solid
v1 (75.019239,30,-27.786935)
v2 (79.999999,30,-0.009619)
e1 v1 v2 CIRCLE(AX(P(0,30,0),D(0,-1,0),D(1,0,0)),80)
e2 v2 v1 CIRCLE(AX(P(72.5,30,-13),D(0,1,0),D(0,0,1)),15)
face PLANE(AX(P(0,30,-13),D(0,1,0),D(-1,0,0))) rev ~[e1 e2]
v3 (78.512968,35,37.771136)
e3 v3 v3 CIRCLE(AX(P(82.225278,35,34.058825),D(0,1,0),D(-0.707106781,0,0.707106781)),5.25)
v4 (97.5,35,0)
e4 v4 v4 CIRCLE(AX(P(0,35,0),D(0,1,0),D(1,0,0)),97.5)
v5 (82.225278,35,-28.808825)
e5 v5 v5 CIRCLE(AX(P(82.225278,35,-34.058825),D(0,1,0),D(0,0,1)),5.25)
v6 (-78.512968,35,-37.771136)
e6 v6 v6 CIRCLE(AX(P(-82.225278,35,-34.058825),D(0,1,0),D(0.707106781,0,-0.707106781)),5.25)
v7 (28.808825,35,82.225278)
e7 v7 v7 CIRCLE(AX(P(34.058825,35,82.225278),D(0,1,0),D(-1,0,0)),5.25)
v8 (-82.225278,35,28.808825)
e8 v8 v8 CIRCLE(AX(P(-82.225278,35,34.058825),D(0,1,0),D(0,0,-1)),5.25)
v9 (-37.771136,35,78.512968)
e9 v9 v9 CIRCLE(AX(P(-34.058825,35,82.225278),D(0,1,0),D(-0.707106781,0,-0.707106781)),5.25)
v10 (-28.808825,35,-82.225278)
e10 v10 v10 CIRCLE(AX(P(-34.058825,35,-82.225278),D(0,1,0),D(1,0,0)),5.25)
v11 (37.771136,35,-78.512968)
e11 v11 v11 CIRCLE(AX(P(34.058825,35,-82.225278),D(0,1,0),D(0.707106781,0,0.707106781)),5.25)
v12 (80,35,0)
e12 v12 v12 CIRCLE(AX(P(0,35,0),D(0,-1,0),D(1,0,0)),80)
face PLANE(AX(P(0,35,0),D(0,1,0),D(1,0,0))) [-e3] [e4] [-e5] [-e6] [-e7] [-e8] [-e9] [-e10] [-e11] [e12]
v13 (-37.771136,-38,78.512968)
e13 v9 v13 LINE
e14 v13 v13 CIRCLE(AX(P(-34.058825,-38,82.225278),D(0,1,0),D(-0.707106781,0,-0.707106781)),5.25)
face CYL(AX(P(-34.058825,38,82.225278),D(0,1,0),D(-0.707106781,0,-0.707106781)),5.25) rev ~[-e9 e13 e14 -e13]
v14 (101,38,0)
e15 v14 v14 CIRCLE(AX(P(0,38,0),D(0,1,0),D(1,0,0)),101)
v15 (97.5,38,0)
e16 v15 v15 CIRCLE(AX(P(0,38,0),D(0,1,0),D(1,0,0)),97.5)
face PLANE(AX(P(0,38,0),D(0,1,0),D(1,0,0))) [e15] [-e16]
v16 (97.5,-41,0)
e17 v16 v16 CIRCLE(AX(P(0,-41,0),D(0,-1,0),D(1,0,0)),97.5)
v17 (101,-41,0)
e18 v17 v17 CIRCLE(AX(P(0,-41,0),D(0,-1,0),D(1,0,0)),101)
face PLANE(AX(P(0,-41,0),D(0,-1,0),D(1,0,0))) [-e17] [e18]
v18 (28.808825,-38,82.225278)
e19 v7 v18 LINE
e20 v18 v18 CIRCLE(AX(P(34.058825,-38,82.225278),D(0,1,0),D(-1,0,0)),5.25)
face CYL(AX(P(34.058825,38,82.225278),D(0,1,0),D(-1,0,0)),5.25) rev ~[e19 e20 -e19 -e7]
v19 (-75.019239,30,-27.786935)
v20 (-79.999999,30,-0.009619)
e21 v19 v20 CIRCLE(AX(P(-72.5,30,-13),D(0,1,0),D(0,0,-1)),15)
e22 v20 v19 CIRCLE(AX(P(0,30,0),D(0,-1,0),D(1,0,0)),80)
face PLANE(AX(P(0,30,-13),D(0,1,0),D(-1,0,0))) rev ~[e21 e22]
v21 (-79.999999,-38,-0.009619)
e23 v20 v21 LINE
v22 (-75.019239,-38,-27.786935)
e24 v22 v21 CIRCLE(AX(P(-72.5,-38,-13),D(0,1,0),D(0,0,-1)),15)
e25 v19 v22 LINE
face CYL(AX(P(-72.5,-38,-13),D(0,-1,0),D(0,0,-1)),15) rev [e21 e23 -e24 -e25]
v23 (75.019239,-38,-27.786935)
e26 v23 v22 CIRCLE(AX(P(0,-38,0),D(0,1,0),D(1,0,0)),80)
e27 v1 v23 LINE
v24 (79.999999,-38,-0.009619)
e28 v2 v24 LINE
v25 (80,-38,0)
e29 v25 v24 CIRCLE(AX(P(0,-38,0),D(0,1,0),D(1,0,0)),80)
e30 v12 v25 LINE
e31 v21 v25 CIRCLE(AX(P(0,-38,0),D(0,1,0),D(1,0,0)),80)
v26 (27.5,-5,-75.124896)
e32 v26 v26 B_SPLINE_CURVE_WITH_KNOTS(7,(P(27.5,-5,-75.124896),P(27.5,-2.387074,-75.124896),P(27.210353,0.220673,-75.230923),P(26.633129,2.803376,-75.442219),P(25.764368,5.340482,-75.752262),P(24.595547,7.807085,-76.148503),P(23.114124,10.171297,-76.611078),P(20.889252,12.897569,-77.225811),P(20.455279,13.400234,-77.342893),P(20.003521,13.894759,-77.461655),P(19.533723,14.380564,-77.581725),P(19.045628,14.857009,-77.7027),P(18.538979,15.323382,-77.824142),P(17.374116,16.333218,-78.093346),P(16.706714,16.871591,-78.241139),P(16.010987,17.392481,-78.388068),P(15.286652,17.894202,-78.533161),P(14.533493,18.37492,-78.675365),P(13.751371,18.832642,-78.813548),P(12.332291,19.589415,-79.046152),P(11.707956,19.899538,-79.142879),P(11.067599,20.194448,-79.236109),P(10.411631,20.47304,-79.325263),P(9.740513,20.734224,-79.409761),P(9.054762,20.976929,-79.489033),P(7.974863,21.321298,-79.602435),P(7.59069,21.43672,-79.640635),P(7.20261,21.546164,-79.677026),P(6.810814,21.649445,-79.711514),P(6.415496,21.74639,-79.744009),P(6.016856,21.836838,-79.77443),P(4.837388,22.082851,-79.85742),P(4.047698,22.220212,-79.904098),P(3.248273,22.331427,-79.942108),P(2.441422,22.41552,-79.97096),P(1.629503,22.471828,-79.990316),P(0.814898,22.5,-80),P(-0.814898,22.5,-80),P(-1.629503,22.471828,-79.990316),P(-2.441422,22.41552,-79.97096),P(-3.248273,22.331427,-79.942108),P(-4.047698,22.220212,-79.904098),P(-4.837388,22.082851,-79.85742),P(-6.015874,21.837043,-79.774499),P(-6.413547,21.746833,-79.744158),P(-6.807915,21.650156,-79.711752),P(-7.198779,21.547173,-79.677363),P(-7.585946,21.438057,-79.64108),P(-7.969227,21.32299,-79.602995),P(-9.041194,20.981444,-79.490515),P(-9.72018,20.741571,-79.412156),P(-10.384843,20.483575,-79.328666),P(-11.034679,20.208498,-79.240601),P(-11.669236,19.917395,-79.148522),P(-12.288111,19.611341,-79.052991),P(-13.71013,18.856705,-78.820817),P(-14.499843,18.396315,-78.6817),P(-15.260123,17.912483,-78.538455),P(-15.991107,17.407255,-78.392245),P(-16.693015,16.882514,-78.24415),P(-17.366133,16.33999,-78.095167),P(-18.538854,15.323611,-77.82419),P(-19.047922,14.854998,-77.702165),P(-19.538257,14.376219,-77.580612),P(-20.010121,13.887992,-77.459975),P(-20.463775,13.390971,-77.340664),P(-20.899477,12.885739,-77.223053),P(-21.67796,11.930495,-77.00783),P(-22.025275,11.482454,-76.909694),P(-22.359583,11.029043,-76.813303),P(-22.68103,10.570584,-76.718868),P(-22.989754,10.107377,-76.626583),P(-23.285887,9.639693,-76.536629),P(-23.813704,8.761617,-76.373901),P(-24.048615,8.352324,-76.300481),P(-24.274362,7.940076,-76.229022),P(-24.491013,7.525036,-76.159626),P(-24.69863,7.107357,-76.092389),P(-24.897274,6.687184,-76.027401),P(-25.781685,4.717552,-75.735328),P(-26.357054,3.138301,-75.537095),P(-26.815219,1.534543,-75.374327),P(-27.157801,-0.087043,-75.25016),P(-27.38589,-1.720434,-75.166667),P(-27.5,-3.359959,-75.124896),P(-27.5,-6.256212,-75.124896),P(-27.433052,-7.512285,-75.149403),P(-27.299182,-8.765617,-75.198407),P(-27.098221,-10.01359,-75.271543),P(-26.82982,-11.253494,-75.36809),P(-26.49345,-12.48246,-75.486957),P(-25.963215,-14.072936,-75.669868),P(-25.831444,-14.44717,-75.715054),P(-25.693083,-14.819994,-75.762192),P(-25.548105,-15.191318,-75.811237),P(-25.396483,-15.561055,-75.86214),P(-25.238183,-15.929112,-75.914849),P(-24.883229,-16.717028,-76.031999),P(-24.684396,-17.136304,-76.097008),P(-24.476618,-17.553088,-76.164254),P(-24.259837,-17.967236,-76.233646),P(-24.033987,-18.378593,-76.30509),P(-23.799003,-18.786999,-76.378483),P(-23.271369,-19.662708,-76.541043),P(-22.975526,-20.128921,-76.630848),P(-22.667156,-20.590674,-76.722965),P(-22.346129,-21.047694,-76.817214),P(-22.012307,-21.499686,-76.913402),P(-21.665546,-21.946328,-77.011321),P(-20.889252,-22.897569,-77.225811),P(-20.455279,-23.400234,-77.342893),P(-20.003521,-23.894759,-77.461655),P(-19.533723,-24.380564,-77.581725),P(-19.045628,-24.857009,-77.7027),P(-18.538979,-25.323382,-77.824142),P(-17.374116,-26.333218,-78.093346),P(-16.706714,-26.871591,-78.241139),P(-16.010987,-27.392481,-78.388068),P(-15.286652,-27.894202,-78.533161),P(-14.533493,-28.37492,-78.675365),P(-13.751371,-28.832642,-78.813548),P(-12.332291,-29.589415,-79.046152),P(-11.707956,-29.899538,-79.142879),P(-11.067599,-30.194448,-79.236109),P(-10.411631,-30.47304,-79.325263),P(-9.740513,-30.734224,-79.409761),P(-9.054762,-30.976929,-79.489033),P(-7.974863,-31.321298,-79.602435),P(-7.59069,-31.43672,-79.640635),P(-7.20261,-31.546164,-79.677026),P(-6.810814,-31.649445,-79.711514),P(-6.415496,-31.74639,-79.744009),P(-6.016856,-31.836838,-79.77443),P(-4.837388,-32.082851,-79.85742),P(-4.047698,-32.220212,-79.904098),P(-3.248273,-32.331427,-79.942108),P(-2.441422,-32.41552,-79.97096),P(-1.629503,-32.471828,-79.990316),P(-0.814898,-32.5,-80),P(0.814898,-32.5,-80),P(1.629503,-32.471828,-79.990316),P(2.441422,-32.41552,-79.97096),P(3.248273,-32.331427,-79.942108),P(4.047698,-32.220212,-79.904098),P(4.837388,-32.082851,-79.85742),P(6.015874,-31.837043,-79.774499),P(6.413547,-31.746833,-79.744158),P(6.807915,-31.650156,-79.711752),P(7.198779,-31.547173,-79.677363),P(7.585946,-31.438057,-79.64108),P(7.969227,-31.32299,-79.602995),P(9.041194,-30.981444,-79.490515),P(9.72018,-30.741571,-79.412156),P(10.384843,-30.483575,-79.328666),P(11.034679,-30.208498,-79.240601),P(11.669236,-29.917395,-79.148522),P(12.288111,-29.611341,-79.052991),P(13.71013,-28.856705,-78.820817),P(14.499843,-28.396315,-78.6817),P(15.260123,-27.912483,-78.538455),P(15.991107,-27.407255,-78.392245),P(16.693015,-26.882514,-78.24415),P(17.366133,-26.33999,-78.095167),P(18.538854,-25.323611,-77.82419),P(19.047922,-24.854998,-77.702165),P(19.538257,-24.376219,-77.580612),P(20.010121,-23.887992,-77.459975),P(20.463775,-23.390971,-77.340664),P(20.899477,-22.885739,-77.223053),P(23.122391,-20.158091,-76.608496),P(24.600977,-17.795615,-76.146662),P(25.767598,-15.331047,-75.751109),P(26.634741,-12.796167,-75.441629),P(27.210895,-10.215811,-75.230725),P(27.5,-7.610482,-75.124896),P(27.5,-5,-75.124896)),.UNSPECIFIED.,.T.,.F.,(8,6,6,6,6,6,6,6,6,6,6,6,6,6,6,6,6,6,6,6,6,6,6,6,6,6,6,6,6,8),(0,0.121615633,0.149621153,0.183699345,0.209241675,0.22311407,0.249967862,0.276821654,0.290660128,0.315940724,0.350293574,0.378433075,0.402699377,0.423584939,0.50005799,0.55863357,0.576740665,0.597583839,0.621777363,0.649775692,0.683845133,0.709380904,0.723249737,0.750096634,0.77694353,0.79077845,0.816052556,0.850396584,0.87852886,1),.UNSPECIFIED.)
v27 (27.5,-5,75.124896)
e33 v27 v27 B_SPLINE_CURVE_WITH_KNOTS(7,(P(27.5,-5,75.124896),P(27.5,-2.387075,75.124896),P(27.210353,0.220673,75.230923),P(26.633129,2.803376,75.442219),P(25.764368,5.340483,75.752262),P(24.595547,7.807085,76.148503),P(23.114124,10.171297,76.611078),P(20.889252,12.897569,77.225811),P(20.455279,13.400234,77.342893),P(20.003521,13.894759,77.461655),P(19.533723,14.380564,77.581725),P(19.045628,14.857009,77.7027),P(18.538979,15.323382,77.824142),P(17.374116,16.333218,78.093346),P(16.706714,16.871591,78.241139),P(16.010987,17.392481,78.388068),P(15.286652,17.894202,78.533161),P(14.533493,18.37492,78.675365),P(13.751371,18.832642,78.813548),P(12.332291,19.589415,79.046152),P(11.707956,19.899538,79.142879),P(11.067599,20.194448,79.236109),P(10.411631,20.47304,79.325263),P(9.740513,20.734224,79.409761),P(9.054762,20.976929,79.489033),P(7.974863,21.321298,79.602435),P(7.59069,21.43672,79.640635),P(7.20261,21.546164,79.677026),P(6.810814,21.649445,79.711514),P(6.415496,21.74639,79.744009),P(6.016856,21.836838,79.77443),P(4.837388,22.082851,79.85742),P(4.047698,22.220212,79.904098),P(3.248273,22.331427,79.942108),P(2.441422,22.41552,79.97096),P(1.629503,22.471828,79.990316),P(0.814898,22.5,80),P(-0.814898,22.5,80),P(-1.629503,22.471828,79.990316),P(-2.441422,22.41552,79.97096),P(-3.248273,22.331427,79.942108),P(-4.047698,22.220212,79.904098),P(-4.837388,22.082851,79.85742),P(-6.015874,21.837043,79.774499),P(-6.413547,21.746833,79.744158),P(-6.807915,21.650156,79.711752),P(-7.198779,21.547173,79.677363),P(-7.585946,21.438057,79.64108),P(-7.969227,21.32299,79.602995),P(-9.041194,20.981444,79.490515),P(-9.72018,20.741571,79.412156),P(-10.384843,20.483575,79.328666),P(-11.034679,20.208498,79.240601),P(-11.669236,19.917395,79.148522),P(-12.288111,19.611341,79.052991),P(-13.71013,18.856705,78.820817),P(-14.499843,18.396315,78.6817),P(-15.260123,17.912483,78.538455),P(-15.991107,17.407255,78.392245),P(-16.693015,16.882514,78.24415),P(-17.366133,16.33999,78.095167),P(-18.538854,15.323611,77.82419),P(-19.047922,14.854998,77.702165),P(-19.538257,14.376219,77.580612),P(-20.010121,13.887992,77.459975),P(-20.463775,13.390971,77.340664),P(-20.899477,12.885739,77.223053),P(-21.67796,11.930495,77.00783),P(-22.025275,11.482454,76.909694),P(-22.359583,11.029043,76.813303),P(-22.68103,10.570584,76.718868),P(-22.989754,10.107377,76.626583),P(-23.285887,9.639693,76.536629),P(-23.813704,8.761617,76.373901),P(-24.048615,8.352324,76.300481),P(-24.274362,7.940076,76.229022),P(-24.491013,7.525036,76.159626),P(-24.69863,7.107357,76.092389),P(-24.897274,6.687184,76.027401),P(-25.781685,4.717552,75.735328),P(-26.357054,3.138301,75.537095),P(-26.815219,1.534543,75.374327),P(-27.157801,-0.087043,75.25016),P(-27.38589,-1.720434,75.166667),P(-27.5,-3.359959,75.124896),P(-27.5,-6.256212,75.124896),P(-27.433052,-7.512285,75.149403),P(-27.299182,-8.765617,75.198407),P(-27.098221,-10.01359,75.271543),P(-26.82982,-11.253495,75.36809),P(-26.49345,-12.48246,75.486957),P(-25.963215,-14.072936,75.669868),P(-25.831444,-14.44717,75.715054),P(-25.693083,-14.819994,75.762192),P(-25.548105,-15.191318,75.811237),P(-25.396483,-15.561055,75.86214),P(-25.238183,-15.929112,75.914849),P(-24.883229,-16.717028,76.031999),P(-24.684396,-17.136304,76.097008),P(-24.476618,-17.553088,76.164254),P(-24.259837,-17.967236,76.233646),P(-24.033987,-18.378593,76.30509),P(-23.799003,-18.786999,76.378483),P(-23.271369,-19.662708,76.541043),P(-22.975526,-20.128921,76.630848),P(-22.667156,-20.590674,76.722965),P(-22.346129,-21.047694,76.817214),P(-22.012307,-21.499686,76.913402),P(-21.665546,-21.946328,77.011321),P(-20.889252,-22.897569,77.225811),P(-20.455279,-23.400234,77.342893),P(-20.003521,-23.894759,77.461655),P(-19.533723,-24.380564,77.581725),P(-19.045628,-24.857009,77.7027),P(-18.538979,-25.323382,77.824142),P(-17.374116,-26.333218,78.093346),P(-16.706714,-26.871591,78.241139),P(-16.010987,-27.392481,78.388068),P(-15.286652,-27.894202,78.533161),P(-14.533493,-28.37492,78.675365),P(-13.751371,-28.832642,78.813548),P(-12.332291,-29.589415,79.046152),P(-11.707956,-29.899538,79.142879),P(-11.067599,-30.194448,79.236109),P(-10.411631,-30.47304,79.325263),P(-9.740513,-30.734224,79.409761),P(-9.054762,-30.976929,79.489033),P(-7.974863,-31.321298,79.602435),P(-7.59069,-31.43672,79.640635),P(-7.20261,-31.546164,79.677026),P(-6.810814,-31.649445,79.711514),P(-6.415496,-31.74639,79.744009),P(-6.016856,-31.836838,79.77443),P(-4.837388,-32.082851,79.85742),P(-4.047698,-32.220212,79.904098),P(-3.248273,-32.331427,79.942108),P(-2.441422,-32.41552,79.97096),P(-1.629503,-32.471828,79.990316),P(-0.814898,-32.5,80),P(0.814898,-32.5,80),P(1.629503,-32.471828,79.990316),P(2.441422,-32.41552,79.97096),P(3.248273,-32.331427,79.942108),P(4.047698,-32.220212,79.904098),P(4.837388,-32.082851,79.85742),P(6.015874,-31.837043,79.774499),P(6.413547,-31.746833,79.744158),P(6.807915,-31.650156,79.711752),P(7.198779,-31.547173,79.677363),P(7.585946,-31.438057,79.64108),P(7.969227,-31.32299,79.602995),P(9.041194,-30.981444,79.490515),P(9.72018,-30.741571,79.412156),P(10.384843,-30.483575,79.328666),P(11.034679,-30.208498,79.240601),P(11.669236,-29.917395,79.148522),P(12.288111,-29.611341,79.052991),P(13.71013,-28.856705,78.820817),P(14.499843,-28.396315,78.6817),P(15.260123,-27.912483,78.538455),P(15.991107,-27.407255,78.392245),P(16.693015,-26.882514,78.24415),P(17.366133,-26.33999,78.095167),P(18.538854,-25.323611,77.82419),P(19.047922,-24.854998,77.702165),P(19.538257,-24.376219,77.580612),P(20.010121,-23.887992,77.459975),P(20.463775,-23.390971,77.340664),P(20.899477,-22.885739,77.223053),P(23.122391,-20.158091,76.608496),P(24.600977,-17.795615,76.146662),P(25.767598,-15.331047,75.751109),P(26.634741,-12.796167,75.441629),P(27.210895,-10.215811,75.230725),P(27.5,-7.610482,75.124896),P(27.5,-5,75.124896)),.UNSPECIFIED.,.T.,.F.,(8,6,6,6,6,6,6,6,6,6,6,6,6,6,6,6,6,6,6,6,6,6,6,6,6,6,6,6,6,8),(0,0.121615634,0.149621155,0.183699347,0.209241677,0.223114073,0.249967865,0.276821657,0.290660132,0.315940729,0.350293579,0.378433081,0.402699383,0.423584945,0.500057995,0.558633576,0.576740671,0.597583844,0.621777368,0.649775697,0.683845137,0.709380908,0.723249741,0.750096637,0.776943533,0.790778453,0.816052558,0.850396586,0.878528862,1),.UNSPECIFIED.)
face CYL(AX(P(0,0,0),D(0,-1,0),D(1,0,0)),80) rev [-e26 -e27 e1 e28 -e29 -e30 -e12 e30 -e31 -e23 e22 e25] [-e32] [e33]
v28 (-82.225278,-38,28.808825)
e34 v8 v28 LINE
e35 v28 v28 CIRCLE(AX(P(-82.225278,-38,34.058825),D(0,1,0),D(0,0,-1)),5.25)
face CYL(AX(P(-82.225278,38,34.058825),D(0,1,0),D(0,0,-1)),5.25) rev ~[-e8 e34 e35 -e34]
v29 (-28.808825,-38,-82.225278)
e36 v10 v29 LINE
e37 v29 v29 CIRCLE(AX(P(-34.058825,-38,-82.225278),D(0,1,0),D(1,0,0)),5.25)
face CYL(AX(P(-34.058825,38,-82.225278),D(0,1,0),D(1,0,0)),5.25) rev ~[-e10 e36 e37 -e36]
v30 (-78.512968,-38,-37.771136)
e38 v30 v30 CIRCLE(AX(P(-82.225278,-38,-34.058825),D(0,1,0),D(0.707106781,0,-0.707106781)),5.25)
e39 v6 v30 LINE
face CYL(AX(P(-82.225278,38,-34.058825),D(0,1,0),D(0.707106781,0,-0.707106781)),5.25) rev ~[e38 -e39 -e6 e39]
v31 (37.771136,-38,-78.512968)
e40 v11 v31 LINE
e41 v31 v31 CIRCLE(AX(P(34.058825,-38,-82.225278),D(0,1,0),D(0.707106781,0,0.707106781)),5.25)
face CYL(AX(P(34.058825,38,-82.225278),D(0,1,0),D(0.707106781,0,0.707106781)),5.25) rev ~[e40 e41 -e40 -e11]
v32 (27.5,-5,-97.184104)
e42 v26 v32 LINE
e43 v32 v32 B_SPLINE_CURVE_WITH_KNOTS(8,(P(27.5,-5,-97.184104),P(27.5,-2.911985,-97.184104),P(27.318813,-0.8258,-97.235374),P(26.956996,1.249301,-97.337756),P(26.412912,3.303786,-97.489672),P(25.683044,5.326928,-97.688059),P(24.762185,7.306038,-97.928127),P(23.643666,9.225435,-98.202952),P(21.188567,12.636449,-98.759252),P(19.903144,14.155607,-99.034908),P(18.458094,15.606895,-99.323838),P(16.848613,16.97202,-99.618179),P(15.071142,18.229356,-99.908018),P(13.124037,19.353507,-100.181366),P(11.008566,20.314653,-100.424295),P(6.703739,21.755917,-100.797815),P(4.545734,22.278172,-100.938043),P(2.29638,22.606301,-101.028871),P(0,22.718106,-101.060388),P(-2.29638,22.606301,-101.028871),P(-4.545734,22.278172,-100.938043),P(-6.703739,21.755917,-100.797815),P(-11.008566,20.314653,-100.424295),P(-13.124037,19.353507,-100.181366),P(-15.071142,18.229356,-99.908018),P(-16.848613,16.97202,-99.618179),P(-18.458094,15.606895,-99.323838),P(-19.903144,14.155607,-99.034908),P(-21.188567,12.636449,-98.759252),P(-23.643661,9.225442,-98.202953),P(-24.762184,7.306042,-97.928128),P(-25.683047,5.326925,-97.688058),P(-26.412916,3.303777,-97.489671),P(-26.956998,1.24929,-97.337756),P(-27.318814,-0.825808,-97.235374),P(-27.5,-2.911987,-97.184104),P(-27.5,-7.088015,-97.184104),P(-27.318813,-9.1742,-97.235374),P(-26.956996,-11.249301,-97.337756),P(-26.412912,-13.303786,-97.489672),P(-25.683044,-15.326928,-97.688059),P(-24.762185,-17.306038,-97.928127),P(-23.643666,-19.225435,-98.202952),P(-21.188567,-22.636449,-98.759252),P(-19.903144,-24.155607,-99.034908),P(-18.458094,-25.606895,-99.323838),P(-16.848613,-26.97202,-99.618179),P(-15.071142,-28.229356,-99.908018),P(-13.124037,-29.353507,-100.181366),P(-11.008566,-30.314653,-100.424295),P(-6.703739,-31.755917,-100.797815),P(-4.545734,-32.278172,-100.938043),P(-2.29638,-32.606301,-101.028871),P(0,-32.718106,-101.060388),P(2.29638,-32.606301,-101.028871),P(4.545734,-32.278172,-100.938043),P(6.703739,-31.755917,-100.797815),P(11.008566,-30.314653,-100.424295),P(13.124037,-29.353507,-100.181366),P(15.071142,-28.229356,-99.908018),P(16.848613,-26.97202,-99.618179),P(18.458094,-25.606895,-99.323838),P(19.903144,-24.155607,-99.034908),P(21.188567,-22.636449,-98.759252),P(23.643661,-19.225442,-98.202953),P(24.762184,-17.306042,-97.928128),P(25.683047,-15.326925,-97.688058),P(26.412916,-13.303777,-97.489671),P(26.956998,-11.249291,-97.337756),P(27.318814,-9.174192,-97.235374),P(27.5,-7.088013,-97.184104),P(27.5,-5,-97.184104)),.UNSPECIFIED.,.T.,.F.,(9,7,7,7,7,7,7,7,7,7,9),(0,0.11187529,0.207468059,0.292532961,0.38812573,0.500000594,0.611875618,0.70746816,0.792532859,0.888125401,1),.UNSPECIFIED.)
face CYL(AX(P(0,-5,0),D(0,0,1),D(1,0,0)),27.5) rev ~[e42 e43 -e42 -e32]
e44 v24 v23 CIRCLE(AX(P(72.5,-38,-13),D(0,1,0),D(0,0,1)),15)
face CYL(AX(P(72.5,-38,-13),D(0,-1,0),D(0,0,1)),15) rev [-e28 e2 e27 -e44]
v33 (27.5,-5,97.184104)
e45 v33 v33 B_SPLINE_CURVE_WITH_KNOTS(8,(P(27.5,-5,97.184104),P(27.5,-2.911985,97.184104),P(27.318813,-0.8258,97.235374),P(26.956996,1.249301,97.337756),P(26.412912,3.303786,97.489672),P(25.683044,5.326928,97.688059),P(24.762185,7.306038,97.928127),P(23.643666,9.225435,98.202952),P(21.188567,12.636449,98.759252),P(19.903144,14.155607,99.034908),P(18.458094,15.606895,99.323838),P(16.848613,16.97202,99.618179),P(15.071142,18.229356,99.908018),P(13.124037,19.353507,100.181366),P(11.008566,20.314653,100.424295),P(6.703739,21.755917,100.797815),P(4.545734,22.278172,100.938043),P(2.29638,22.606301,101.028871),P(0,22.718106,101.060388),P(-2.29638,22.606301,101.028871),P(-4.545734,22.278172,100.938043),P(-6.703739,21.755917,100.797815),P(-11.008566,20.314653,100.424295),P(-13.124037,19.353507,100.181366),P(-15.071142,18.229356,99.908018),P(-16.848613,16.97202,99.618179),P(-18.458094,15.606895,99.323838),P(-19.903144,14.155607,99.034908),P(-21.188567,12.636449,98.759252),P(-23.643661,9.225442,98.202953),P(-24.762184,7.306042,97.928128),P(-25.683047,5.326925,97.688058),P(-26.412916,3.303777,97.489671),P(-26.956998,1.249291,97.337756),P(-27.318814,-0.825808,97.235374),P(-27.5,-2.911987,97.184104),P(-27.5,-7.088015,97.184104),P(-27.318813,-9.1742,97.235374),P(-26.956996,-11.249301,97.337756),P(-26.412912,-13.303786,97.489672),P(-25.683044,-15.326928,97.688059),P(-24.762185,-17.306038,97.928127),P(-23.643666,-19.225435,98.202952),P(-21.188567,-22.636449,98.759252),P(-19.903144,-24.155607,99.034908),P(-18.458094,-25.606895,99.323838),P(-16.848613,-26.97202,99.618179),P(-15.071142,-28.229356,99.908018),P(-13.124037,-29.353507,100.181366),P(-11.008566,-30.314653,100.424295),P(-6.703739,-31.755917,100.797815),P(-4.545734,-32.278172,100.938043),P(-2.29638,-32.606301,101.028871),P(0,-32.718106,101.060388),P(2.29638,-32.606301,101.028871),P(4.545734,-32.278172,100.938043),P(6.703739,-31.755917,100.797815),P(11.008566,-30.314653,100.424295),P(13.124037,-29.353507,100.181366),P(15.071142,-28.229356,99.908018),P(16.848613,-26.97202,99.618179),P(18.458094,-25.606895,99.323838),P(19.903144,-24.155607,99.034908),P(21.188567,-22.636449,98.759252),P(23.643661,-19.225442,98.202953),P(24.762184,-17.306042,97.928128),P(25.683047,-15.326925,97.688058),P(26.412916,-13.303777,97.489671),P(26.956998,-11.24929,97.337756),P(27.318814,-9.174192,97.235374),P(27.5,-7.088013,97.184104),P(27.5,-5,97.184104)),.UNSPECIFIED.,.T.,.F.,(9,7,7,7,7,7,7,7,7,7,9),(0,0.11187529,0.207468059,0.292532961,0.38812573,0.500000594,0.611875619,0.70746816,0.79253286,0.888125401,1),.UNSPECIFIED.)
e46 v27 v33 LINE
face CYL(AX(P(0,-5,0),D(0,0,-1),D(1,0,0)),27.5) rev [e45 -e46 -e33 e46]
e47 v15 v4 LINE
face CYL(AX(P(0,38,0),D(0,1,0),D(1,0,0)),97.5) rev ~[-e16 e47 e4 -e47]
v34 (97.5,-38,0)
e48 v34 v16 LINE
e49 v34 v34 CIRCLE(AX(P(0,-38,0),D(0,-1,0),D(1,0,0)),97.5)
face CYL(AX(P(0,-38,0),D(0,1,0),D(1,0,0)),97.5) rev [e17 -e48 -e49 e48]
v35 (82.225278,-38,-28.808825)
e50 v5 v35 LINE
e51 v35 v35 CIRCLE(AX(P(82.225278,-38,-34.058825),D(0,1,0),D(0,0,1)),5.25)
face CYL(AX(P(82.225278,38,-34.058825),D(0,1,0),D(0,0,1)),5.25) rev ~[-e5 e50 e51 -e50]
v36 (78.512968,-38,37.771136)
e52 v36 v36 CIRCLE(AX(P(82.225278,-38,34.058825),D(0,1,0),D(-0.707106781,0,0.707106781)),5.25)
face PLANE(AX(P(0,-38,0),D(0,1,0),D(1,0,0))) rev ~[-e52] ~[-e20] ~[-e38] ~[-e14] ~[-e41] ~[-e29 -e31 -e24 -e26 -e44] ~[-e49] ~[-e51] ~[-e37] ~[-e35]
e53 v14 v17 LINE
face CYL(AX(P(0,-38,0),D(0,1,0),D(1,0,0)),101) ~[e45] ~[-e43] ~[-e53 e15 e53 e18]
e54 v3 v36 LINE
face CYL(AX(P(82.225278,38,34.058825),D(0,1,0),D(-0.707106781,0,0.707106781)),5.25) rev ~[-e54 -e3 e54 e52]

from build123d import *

# Parameters (mm, degrees)
SKETCH1_R               = 101
SKETCH1_R_2             = 80
BOSS_EXTRUDE1_DEPTH     = 38
SKETCH3_R               = 27.5
CUT_EXTRUDE1_DEPTH      = 102
CUT_EXTRUDE1_DEPTH_BACK = 102
SKETCH4_R               = 5.25
CUT_EXTRUDE2_DEPTH      = 76
CIRPATTERN1_COUNT       = 8
CUT_EXTRUDE3_DEPTH      = 68
SKETCH6_R               = 101
SKETCH6_R_2             = 97.5
BOSS_EXTRUDE2_DEPTH     = 3
SKETCH7_R               = 97.5
CUT_EXTRUDE4_DEPTH      = 3


with BuildPart() as part:
    # Sketch1 → Boss-Extrude1 (new body, symmetric)
    with BuildSketch(Plane(origin=(0, 0, 0), x_dir=(1, 0, 0), z_dir=(0, 1, 0))):
        Circle(SKETCH1_R)
        Circle(SKETCH1_R_2, mode=Mode.SUBTRACT)
    extrude(amount=BOSS_EXTRUDE1_DEPTH, both=True)

    # Sketch3 → Cut-Extrude1 (cut, two sides)
    with BuildSketch(Plane.XY) as cut_extrude1_sk:
        with Locations((0, -5)):
            Circle(SKETCH3_R)
    extrude(amount=CUT_EXTRUDE1_DEPTH, mode=Mode.SUBTRACT)
    extrude(cut_extrude1_sk.sketch, amount=-CUT_EXTRUDE1_DEPTH_BACK, mode=Mode.SUBTRACT)

    # Sketch4 → Cut-Extrude2 (cut)
    with BuildSketch(Plane(origin=(0, 38, 0), x_dir=(1, 0, 0), z_dir=(0, 1, 0))):
        with Locations((-34.05882548, 82.225278394)):
            Circle(SKETCH4_R)
    cut_extrude2 = extrude(amount=-CUT_EXTRUDE2_DEPTH, mode=Mode.SUBTRACT)

    # CirPattern1: Cut-Extrude2 ×8 about axis
    cirpattern1_axis = Axis((0, 0, 0), (0, 1, 0))
    for i in range(1, CIRPATTERN1_COUNT):
        add(cut_extrude2.rotate(cirpattern1_axis, i * 360 / CIRPATTERN1_COUNT), mode=Mode.SUBTRACT)

    # Sketch5 → Cut-Extrude3 (cut)
    with BuildSketch(Plane.XZ.offset(38)):
        with BuildLine():
            Line((-72.5, 2), (72.5, 2))
            ThreePointArc((72.5, 2), (87.5, -13), (72.5, -28))
            Line((72.5, -28), (-72.5, -28))
            ThreePointArc((-72.5, -28), (-87.5, -13), (-72.5, 2))
        make_face()
    extrude(amount=-CUT_EXTRUDE3_DEPTH, mode=Mode.SUBTRACT)

    # Sketch6 → Boss-Extrude2 (add)
    with BuildSketch(Plane.XZ.offset(38)):
        Circle(SKETCH6_R)
        Circle(SKETCH6_R_2, mode=Mode.SUBTRACT)
    extrude(amount=BOSS_EXTRUDE2_DEPTH)

    # Sketch7 → Cut-Extrude4 (cut)
    with BuildSketch(Plane(origin=(0, 38, 0), x_dir=(1, 0, 0), z_dir=(0, 1, 0))):
        Circle(SKETCH7_R)
    extrude(amount=-CUT_EXTRUDE4_DEPTH, mode=Mode.SUBTRACT)


solid = part.part
